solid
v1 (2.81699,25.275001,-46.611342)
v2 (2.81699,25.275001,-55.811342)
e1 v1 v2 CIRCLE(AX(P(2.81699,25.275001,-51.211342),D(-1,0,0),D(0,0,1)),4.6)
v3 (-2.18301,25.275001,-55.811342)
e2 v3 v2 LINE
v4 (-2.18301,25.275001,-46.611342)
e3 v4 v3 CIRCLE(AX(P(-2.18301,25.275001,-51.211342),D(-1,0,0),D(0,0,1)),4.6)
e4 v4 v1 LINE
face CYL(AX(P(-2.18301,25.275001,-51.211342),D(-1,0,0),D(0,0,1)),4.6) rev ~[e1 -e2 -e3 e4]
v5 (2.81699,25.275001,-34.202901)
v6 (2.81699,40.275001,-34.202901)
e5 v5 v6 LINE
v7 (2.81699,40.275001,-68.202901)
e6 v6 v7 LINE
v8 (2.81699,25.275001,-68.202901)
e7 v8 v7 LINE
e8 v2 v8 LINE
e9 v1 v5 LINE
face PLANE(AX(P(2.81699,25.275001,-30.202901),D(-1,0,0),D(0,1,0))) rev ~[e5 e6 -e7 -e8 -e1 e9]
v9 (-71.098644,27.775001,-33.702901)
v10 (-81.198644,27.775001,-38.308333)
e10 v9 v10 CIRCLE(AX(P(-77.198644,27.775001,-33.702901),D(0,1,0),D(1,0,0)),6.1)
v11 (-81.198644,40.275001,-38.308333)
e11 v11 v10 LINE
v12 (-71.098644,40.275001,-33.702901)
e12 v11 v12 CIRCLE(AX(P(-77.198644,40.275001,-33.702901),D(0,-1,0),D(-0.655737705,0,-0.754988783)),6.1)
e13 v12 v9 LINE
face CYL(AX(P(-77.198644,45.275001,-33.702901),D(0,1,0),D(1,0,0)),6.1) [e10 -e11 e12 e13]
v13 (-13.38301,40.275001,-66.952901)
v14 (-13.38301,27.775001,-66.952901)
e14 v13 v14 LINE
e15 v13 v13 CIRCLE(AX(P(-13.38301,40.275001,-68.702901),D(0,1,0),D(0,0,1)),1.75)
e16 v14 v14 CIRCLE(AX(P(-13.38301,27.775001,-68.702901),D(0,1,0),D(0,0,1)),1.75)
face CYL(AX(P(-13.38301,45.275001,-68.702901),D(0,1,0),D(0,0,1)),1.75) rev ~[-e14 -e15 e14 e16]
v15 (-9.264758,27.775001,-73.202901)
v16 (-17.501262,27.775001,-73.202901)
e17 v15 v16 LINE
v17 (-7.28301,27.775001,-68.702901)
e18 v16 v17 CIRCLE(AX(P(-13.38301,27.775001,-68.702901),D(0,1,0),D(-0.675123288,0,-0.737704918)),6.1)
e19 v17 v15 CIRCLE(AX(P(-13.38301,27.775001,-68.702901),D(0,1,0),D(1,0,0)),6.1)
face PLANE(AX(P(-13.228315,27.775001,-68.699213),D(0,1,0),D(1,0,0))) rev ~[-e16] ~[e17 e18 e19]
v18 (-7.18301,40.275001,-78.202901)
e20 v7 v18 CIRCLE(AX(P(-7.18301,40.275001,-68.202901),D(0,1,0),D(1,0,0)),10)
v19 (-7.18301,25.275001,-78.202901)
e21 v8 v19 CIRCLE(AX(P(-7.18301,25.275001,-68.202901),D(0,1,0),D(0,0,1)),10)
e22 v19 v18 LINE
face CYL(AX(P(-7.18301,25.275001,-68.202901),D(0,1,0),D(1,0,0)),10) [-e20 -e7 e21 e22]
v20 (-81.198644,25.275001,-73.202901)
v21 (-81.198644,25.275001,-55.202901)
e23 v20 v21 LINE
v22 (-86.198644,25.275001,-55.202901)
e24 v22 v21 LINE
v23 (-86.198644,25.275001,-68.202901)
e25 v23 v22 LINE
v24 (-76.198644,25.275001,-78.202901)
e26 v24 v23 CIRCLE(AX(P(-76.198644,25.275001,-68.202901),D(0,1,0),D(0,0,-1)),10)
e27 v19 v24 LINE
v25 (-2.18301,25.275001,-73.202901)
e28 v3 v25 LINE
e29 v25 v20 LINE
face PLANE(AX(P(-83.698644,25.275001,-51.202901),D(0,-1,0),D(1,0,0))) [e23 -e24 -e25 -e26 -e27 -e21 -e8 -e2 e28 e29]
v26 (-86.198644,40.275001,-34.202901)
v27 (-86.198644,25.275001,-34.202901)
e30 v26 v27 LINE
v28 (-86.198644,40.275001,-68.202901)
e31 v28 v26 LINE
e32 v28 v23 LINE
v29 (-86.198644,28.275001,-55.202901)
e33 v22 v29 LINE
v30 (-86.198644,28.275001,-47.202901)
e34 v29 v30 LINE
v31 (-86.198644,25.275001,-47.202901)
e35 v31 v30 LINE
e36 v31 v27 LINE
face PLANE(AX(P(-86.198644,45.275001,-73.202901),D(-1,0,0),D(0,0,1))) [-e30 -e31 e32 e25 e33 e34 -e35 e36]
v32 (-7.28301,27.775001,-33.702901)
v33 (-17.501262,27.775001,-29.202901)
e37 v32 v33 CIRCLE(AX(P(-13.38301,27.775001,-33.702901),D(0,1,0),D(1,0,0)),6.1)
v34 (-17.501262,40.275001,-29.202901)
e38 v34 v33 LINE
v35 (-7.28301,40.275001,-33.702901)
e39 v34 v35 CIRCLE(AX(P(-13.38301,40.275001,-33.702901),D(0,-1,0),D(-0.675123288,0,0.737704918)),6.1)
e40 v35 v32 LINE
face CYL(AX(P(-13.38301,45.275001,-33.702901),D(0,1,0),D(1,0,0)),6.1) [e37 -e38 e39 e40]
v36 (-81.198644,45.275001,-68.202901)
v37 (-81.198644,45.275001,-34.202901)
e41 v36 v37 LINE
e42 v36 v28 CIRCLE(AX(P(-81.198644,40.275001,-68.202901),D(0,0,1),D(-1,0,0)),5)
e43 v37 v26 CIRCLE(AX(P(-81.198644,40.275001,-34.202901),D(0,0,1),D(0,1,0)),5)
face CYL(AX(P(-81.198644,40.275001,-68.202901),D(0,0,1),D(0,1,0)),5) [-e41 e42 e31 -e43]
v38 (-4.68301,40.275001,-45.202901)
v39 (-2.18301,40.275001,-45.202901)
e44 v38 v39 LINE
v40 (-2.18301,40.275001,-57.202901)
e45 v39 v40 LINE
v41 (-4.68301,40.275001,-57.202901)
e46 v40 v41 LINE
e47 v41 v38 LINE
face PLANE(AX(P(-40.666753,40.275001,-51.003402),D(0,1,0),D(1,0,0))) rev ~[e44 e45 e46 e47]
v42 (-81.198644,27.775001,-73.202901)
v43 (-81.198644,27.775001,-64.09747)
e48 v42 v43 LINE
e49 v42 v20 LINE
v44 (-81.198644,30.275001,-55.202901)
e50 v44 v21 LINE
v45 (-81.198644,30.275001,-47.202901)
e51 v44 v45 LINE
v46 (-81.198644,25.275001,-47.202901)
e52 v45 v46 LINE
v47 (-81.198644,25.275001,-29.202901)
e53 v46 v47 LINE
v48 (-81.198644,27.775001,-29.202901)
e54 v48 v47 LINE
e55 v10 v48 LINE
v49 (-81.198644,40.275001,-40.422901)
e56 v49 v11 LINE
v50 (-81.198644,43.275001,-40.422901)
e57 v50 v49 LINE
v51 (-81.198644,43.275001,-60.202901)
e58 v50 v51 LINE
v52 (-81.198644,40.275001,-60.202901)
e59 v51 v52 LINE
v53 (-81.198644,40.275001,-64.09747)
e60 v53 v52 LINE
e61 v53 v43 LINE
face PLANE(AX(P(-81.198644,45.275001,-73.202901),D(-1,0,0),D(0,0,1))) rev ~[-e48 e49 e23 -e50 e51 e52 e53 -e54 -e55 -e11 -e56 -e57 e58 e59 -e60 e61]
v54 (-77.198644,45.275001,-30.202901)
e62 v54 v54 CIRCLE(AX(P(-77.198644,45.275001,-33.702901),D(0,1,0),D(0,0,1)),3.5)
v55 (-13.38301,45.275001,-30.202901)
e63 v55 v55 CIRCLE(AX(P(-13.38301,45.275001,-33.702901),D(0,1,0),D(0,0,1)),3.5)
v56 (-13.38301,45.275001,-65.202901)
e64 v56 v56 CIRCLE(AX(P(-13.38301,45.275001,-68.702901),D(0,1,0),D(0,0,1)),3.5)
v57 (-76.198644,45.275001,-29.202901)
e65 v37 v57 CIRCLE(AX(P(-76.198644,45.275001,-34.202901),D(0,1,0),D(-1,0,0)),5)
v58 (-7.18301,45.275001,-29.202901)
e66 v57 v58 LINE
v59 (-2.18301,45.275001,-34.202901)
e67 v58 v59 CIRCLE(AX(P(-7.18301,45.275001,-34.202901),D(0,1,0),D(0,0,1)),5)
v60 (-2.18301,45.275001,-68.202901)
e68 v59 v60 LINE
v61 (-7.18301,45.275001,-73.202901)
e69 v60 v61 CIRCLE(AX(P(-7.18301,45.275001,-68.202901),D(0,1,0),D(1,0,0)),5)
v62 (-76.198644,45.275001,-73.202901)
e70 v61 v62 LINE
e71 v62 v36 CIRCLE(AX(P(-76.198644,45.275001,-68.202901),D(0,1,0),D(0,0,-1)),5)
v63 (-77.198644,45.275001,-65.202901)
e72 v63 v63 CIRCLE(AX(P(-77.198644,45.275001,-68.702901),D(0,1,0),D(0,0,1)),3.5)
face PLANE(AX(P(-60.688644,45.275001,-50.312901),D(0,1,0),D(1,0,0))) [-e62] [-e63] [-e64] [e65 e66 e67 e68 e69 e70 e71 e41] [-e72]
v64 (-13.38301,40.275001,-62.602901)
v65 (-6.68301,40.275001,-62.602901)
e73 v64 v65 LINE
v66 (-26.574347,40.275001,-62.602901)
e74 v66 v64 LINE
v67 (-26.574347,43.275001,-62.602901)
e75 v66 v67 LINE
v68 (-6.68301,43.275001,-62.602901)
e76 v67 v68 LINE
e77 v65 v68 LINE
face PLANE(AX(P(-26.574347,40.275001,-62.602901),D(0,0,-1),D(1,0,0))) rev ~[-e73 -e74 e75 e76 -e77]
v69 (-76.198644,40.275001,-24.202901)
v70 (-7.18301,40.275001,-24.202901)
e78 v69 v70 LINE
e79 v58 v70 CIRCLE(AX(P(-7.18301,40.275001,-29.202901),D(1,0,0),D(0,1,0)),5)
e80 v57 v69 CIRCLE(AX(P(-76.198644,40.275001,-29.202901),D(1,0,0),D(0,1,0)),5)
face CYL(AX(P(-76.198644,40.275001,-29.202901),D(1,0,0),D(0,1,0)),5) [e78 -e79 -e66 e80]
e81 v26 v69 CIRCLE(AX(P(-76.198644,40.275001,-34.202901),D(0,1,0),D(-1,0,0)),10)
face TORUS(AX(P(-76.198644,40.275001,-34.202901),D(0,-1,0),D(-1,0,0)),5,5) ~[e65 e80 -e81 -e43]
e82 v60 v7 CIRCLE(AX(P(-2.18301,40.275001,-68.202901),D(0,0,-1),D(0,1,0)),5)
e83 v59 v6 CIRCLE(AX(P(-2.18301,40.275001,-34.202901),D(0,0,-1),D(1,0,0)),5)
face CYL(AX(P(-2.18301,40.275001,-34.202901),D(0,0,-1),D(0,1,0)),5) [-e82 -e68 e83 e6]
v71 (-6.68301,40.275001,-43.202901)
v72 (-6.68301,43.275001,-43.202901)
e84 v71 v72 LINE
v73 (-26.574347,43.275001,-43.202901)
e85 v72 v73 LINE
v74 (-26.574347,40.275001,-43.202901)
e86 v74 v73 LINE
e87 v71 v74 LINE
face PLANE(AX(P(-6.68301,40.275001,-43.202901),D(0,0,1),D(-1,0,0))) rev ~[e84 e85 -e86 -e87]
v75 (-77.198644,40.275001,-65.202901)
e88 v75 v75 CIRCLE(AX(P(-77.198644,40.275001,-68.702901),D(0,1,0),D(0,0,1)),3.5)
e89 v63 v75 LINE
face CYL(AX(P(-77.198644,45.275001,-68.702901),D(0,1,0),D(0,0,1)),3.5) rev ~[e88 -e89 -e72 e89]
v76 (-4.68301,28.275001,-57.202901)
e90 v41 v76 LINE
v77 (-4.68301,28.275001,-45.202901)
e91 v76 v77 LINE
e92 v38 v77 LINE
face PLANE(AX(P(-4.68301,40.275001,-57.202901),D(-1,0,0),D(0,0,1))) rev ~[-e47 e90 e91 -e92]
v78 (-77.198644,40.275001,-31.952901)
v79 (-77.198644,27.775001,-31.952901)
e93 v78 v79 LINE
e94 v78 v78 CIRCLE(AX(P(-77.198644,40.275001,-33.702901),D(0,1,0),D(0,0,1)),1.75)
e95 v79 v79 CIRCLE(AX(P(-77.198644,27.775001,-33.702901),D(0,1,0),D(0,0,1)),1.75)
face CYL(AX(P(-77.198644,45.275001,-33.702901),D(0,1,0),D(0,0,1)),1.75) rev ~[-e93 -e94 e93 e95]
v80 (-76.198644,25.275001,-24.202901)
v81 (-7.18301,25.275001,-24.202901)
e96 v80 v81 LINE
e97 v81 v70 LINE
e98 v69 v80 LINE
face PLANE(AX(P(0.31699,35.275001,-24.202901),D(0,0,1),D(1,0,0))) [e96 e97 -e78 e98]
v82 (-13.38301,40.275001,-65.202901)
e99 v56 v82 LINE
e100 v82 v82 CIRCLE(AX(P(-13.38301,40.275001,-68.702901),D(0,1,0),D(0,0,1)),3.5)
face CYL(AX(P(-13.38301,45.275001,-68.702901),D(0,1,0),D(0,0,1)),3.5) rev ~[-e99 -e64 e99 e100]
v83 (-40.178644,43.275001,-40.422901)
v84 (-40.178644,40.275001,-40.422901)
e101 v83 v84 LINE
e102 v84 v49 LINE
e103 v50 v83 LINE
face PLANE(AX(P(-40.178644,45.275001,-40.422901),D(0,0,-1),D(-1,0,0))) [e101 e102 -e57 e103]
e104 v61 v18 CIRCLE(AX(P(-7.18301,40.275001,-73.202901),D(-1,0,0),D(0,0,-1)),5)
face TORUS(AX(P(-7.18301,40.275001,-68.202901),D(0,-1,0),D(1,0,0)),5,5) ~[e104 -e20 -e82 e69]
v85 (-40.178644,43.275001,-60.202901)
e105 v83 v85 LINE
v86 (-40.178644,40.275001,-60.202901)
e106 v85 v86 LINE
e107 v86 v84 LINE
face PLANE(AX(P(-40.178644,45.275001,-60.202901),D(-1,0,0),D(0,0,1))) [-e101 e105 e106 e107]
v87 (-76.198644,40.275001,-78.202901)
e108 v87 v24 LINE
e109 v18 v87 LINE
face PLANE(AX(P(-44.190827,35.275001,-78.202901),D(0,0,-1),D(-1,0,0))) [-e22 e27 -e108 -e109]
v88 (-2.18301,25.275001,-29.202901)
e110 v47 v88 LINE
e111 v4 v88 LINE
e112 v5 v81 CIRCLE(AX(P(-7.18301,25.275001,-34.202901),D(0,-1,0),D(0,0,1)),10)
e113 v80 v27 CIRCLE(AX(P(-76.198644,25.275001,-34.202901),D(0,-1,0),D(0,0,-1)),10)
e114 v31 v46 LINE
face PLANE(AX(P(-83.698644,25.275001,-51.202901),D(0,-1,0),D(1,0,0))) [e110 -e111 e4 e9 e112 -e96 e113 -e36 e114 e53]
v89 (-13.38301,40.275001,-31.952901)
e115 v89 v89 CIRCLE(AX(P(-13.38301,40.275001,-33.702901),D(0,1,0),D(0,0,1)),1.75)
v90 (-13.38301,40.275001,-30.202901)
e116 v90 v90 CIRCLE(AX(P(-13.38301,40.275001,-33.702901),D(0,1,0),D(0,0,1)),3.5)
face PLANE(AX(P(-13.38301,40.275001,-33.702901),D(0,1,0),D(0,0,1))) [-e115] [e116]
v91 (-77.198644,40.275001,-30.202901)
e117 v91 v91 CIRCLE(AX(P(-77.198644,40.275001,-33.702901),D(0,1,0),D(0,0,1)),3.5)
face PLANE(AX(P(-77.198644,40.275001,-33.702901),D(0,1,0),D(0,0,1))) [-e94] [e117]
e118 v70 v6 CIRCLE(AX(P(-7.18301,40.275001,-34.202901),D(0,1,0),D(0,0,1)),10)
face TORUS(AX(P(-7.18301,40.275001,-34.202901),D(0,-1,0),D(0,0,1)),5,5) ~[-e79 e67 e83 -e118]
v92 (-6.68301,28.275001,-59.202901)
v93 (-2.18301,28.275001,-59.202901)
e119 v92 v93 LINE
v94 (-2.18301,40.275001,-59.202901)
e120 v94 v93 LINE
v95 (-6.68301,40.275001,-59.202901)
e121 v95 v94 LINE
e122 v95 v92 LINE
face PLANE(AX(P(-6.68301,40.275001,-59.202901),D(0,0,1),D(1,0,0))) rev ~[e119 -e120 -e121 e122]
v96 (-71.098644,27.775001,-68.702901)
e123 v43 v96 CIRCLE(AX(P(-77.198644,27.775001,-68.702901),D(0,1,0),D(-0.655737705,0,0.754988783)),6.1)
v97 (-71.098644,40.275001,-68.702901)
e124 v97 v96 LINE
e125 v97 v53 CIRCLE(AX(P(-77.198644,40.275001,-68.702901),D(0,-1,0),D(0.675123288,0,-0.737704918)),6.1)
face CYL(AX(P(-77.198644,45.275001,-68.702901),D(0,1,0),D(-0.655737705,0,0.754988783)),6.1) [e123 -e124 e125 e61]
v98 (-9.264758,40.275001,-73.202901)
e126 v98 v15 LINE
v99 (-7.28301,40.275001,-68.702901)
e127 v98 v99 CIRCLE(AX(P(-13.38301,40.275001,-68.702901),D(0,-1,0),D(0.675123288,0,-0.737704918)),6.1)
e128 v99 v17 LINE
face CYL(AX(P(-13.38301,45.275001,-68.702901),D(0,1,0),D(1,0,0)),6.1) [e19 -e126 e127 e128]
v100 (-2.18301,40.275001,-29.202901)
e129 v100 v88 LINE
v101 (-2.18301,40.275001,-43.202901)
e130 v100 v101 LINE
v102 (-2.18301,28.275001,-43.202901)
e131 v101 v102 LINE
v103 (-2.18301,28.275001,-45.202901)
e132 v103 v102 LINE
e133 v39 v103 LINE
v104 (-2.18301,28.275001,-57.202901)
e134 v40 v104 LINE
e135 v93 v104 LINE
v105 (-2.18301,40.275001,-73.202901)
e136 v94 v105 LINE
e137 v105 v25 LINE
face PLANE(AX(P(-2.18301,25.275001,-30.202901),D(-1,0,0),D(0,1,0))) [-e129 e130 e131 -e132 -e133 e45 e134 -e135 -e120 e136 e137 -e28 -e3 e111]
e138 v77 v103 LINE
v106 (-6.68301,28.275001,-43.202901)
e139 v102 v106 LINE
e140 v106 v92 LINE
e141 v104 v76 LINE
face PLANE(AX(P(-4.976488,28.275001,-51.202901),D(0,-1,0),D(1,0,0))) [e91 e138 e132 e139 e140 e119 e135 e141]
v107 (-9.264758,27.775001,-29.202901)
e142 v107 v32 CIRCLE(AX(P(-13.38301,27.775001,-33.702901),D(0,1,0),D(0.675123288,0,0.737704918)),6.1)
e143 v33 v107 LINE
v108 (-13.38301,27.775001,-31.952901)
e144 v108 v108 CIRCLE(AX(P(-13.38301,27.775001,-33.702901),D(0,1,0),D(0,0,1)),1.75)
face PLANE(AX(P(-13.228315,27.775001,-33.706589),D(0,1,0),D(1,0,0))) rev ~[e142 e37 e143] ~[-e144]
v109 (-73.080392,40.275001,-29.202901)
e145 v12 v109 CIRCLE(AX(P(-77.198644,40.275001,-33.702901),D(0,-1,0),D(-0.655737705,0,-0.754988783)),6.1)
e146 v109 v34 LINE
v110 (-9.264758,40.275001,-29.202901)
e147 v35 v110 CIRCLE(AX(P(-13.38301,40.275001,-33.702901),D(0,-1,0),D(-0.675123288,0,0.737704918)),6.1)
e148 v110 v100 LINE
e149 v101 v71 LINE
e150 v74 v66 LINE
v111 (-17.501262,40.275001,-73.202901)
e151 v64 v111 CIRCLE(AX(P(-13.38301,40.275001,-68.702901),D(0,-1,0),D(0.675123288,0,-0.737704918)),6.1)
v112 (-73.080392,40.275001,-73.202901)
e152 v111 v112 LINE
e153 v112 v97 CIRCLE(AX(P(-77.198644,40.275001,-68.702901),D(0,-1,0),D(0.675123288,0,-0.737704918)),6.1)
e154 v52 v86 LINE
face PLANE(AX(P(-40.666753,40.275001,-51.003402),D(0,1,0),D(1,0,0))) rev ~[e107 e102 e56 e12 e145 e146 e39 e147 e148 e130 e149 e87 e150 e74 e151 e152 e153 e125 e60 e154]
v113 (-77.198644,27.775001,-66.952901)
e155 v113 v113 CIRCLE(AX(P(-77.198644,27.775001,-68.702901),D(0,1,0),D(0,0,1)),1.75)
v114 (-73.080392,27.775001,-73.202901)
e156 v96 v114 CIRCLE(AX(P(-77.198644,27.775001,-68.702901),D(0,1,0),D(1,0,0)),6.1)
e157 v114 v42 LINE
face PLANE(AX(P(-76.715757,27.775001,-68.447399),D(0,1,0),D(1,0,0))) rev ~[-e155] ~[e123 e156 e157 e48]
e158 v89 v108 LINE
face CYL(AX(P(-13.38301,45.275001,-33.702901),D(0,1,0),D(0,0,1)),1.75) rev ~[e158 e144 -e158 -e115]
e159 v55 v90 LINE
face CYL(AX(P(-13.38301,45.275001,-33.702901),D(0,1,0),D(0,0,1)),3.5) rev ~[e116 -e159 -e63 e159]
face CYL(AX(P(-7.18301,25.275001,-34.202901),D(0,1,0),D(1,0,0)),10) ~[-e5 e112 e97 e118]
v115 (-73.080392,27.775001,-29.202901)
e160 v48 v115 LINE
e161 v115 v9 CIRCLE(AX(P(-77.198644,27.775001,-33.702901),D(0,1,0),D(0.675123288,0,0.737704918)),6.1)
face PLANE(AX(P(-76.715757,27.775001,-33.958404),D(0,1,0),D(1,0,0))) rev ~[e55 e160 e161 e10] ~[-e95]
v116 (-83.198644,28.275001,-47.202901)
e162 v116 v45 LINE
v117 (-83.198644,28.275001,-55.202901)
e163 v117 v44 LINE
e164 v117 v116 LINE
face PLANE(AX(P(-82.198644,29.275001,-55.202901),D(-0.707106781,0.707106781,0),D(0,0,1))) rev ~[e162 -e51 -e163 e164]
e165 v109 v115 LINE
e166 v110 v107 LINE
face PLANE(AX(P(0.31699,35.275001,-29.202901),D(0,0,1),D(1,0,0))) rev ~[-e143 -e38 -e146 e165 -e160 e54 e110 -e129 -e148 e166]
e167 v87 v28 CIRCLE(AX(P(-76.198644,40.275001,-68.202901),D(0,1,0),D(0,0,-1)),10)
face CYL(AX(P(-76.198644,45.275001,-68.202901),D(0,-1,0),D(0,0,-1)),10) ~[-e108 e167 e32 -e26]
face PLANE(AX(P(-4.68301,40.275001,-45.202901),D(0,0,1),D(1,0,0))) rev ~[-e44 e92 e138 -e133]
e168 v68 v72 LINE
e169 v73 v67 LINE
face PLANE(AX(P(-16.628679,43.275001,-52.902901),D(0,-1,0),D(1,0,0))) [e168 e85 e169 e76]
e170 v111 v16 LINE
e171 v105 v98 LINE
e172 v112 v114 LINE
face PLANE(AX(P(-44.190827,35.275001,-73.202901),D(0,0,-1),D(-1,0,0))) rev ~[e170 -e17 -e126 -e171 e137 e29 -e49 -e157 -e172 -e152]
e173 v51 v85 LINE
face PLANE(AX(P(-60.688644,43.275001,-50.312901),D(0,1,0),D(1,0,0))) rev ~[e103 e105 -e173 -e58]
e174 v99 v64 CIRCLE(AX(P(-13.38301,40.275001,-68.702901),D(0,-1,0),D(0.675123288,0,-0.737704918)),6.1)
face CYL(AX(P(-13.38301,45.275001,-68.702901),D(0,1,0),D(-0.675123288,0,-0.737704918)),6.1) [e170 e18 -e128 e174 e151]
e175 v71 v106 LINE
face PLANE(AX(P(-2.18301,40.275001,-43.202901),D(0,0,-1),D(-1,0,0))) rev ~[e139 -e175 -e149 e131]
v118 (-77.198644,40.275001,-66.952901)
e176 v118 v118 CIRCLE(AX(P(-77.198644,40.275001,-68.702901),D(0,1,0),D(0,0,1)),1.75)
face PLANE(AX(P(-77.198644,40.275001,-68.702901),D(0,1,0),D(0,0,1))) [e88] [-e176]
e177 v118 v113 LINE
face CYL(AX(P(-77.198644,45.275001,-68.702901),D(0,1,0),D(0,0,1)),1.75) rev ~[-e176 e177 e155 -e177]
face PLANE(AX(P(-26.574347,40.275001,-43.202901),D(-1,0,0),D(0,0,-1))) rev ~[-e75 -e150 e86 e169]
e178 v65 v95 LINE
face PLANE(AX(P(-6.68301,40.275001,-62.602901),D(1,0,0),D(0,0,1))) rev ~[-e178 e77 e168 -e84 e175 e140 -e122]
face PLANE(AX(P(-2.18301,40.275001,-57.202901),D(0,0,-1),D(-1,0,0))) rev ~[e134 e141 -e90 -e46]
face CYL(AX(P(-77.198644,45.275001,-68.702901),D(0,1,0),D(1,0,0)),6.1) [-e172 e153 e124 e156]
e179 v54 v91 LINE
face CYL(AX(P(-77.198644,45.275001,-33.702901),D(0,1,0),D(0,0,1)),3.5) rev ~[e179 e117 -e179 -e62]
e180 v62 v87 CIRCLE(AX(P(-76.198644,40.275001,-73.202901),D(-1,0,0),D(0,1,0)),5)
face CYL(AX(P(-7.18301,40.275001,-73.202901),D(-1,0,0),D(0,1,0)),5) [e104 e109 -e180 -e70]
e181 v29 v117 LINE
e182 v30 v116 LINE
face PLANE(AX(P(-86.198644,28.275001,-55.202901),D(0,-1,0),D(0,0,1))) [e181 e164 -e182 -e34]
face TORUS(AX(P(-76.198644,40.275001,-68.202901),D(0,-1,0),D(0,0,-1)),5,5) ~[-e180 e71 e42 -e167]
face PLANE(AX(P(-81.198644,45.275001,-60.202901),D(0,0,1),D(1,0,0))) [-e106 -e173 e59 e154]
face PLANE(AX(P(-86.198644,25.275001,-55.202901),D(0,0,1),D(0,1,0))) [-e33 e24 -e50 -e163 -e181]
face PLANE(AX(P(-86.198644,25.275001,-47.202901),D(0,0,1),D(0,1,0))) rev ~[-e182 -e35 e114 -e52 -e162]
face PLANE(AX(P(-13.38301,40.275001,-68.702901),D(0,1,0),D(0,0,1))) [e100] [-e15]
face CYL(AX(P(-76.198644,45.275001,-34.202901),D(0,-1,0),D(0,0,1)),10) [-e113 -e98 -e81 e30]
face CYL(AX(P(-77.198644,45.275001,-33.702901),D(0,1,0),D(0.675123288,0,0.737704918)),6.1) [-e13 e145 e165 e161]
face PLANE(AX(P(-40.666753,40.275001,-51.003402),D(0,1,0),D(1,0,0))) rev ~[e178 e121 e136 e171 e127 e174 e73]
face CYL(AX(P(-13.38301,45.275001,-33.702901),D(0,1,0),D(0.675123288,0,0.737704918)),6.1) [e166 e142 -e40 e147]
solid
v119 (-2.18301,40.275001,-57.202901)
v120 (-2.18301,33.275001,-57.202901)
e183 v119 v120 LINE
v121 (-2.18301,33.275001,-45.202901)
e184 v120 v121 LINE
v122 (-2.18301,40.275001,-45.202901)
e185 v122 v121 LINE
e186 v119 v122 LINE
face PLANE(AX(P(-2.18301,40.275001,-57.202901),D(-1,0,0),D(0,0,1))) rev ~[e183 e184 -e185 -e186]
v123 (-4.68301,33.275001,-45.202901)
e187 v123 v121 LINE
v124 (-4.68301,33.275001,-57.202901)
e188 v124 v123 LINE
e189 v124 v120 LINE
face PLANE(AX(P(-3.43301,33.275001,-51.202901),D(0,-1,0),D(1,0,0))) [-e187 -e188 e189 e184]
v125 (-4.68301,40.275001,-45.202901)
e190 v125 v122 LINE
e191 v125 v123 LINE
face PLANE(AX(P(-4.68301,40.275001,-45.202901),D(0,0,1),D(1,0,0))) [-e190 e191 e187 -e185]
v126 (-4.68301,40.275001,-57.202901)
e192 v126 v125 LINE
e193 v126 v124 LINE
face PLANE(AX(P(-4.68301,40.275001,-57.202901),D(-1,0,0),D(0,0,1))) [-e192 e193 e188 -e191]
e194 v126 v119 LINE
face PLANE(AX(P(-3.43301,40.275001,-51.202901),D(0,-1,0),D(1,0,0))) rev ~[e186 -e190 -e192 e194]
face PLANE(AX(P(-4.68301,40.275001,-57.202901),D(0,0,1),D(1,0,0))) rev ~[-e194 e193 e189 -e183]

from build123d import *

# Parameters (mm, degrees)
BOSS_EXTRUDE1_DEPTH  = 5
SKETCH3_W            = 89.015633911
SKETCH3_H            = 54
SKETCH3_R            = 1.75
BOSS_EXTRUDE2_DEPTH  = 10
SKETCH4_W            = 5
SKETCH4_H            = 20
SKETCH4_W_2          = 84.015633911
BOSS_EXTRUDE3_DEPTH  = 5
SKETCH5_W            = 84.015633911
SKETCH5_H            = 20
SKETCH5_W_2          = 5
BOSS_EXTRUDE4_DEPTH  = 5
SKETCH6_W            = 5
SKETCH6_H            = 20
BOSS_EXTRUDE5_DEPTH  = 5
SKETCH7_W            = 5
SKETCH7_H            = 20
BOSS_EXTRUDE6_DEPTH  = 5
SKETCH8_W            = 5
SKETCH8_H            = 44
BOSS_EXTRUDE7_DEPTH  = 20
SKETCH11_W           = 89.015633911
SKETCH11_H           = 54
CUT_EXTRUDE2_DEPTH   = 10
SKETCH12_R           = 1.75
BOSS_EXTRUDE8_DEPTH  = 17.5
SKETCH15_W           = 8
SKETCH15_H           = 3
CUT_EXTRUDE4_DEPTH   = 10
BOSS_EXTRUDE9_DEPTH  = 5
SKETCH18_W           = 41.02
SKETCH18_H           = 19.78
BOSS_EXTRUDE10_DEPTH = 2
SKETCH19_R           = 3.5
SKETCH19_R_2         = 1.75
CUT_EXTRUDE5_DEPTH   = 5
FILLET1_R            = 10
FILLET2_R            = 5
BOSS_EXTRUDE11_DEPTH = 12
SKETCH21_W           = 2.5
SKETCH21_H           = 12
BOSS_EXTRUDE12_DEPTH = 7
CUT_EXTRUDE6_DEPTH   = 3
CHAMFER1_SIZE        = 2


with BuildPart() as part:
    # Sketch1 → Boss-Extrude1 (new body)
    with BuildSketch(Plane(origin=(-2.183009885, 0, 0), x_dir=(0, 0, -1), z_dir=(1, 0, 0))):
        with BuildLine():
            Line((30.202901291, 42.056855501), (30.202901291, 27.775000784))
            Line((30.202901291, 27.775000784), (30.202901291, 26.275000784))
            Line((30.202901291, 26.275000784), (30.202901291, 25.275000784))
            Line((30.202901291, 25.275000784), (46.611342077, 25.275000784))
            ThreePointArc((46.611342077, 25.275000784), (51.211342077, 29.875000784), (55.811342077, 25.275000784))
            Line((55.811342077, 25.275000784), (72.202901291, 25.275000784))
            Line((72.202901291, 25.275000784), (72.202901291, 26.275000784))
            Line((72.202901291, 26.275000784), (72.202901291, 27.775000784))
            Line((72.202901291, 27.775000784), (72.202901291, 43.275000784))
            Line((72.202901291, 43.275000784), (72.202901291, 45.275000784))
            Line((72.202901291, 45.275000784), (30.202901291, 45.275000784))
            Line((30.202901291, 45.275000784), (30.202901291, 42.056855501))
        make_face()
    extrude(amount=BOSS_EXTRUDE1_DEPTH)

    # Sketch3 → Boss-Extrude2 (add)
    with BuildSketch(Plane(origin=(0, 45.275000784, 0), x_dir=(1, 0, 0), z_dir=(0, 1, 0))):
        with Locations((-41.690826841, 51.202901291)):
            Rectangle(SKETCH3_W, SKETCH3_H)
        with Locations(Location((-77.198643796, 33.702901291, 0), (0, 0, 270))):
            Circle(SKETCH3_R, mode=Mode.SUBTRACT)
        with Locations(Location((-13.383009885, 33.702901291, 0), (0, 0, 270))):
            Circle(SKETCH3_R, mode=Mode.SUBTRACT)
        with Locations(Location((-77.198643796, 68.702901291, 0), (0, 0, 270))):
            Circle(SKETCH3_R, mode=Mode.SUBTRACT)
        with Locations(Location((-13.383009885, 68.702901291, 0), (0, 0, 270))):
            Circle(SKETCH3_R, mode=Mode.SUBTRACT)
    extrude(amount=BOSS_EXTRUDE2_DEPTH)

    # Sketch4 → Boss-Extrude3 (add)
    with BuildSketch(Plane.XY.offset(-24.202901291)):
        with Locations((0.316990115, 35.275000784)):
            Rectangle(SKETCH4_W, SKETCH4_H)
        with Locations((-44.190826841, 35.275000784)):
            Rectangle(SKETCH4_W_2, SKETCH4_H)
    extrude(amount=-BOSS_EXTRUDE3_DEPTH)

    # Sketch5 → Boss-Extrude4 (add)
    with BuildSketch(Plane(origin=(0, 0, -78.202901291), x_dir=(-1, 0, 0), z_dir=(0, 0, -1))):
        with Locations((44.190826841, 35.275000784)):
            Rectangle(SKETCH5_W, SKETCH5_H)
        with Locations((-0.316990115, 35.275000784)):
            Rectangle(SKETCH5_W_2, SKETCH5_H)
    extrude(amount=-BOSS_EXTRUDE4_DEPTH)

    # Sketch6 → Boss-Extrude5 (add)
    with BuildSketch(Plane(origin=(0, 0, -72.202901291), x_dir=(-1, 0, 0), z_dir=(0, 0, -1))):
        with Locations((-0.316990115, 35.275000784)):
            Rectangle(SKETCH6_W, SKETCH6_H)
    extrude(amount=BOSS_EXTRUDE5_DEPTH)

    # Sketch7 → Boss-Extrude6 (add)
    with BuildSketch(Plane.XY.offset(-30.202901291)):
        with Locations((0.316990115, 35.275000784)):
            Rectangle(SKETCH7_W, SKETCH7_H)
    extrude(amount=BOSS_EXTRUDE6_DEPTH)

    # Sketch8 → Boss-Extrude7 (add)
    with BuildSketch(Plane.XZ.offset(-45.275000784)):
        with Locations((-83.698643796, -51.202901291)):
            Rectangle(SKETCH8_W, SKETCH8_H)
    extrude(amount=BOSS_EXTRUDE7_DEPTH)

    # Sketch11 → Cut-Extrude2 (cut)
    with BuildSketch(Plane(origin=(0, 55.275000784, 0), x_dir=(1, 0, 0), z_dir=(0, 1, 0))):
        with Locations((-41.690826841, 51.202901291)):
            Rectangle(SKETCH11_W, SKETCH11_H)
    extrude(amount=-CUT_EXTRUDE2_DEPTH, mode=Mode.SUBTRACT)

    # Sketch12 → Boss-Extrude8 (add)
    # profile 1 of 4: a face of its own
    with BuildSketch(Plane(origin=(0, 45.275000784, 0), x_dir=(1, 0, 0), z_dir=(0, 1, 0))):
        with BuildLine():
            ThreePointArc((-71.098643796, 33.702901291), (-74.667833649, 39.253126511), (-81.198643796, 38.308332867))
            Line((-81.198643796, 38.308332867), (-81.198643796, 29.202901291))
            Line((-81.198643796, 29.202901291), (-73.08039174, 29.202901291))
            ThreePointArc((-73.08039174, 29.202901291), (-71.616021762, 31.244379127), (-71.098643796, 33.702901291))
        make_face()
        with Locations(Location((-77.198643796, 33.702901291, 0), (0, 0, 270))):
            Circle(SKETCH12_R, mode=Mode.SUBTRACT)
    # profile 2 of 4: a face of its own
    with BuildSketch(Plane(origin=(0, 45.275000784, 0), x_dir=(1, 0, 0), z_dir=(0, 1, 0))):
        with BuildLine():
            ThreePointArc((-71.098643796, 68.702901291), (-71.616021762, 71.161423454), (-73.08039174, 73.202901291))
            Line((-73.08039174, 73.202901291), (-81.198643796, 73.202901291))
            Line((-81.198643796, 73.202901291), (-81.198643796, 64.097469715))
            ThreePointArc((-81.198643796, 64.097469715), (-74.667833649, 63.15267607), (-71.098643796, 68.702901291))
        make_face()
        with Locations(Location((-77.198643796, 68.702901291, 0), (0, 0, 270))):
            Circle(SKETCH12_R, mode=Mode.SUBTRACT)
    # profile 3 of 4: a face of its own
    with BuildSketch(Plane(origin=(0, 45.275000784, 0), x_dir=(1, 0, 0), z_dir=(0, 1, 0))):
        with BuildLine():
            ThreePointArc((-7.283009885, 33.702901291), (-15.841532049, 39.285523325), (-17.501261942, 29.202901291))
            Line((-17.501261942, 29.202901291), (-9.264757829, 29.202901291))
            ThreePointArc((-9.264757829, 29.202901291), (-7.800387851, 31.244379127), (-7.283009885, 33.702901291))
        make_face()
        with Locations(Location((-13.383009885, 33.702901291, 0), (0, 0, 270))):
            Circle(SKETCH12_R, mode=Mode.SUBTRACT)
    # profile 4 of 4: a face of its own
    with BuildSketch(Plane(origin=(0, 45.275000784, 0), x_dir=(1, 0, 0), z_dir=(0, 1, 0))):
        with BuildLine():
            ThreePointArc((-17.501261942, 73.202901291), (-15.841532049, 63.120279257), (-7.283009885, 68.702901291))
            ThreePointArc((-7.283009885, 68.702901291), (-7.800387851, 71.161423454), (-9.264757829, 73.202901291))
            Line((-9.264757829, 73.202901291), (-17.501261942, 73.202901291))
        make_face()
        with Locations(Location((-13.383009885, 68.702901291, 0), (0, 0, 270))):
            Circle(SKETCH12_R, mode=Mode.SUBTRACT)
    extrude(amount=-BOSS_EXTRUDE8_DEPTH)

    # Sketch15 → Cut-Extrude4 (cut)
    with BuildSketch(Plane.ZY.offset(86.198643796)):
        with Locations((-51.202901291, 26.775000784)):
            Rectangle(SKETCH15_W, SKETCH15_H)
    extrude(amount=-CUT_EXTRUDE4_DEPTH, mode=Mode.SUBTRACT)

    # Sketch17 → Boss-Extrude9 (add)
    with BuildSketch(Plane(origin=(0, 45.275000784, 0), x_dir=(1, 0, 0), z_dir=(0, 1, 0))):
        with BuildLine():
            Line((-40.178643796, 40.422901291), (-74.198643796, 40.422901291))
            Line((-74.198643796, 40.422901291), (-81.198643796, 40.422901291))
            Line((-81.198643796, 40.422901291), (-81.198643796, 38.308332867))
            ThreePointArc((-81.198643796, 38.308332867), (-72.64554409, 37.762369614), (-73.08039174, 29.202901291))
            Line((-73.08039174, 29.202901291), (-17.501261942, 29.202901291))
            ThreePointArc((-17.501261942, 29.202901291), (-13.383009885, 39.802901291), (-9.264757829, 29.202901291))
            Line((-9.264757829, 29.202901291), (-2.183009885, 29.202901291))
            Line((-2.183009885, 29.202901291), (-2.183009885, 73.202901291))
            Line((-2.183009885, 73.202901291), (-9.264757829, 73.202901291))
            ThreePointArc((-9.264757829, 73.202901291), (-13.383009885, 62.602901291), (-17.501261942, 73.202901291))
            Line((-17.501261942, 73.202901291), (-73.08039174, 73.202901291))
            ThreePointArc((-73.08039174, 73.202901291), (-72.64554409, 64.643432968), (-81.198643796, 64.097469715))
            Line((-81.198643796, 64.097469715), (-81.198643796, 60.202901291))
            Line((-81.198643796, 60.202901291), (-74.198643796, 60.202901291))
            Line((-74.198643796, 60.202901291), (-40.178643796, 60.202901291))
            Line((-40.178643796, 60.202901291), (-40.178643796, 40.422901291))
        make_face()
    extrude(amount=-BOSS_EXTRUDE9_DEPTH)

    # Sketch18 → Boss-Extrude10 (add)
    with BuildSketch(Plane(origin=(0, 45.275000784, 0), x_dir=(1, 0, 0), z_dir=(0, 1, 0))):
        with Locations((-60.688643796, 50.312901291)):
            Rectangle(SKETCH18_W, SKETCH18_H)
    extrude(amount=-BOSS_EXTRUDE10_DEPTH)

    # Sketch19 → Cut-Extrude5 (cut)
    # profile 1 of 4: a face of its own
    with BuildSketch(Plane(origin=(0, 45.275000784, 0), x_dir=(1, 0, 0), z_dir=(0, 1, 0))):
        with Locations(Location((-77.198643796, 68.702901291, 0), (0, 0, 270))):
            Circle(SKETCH19_R)
        with Locations(Location((-77.198643796, 68.702901291, 0), (0, 0, 270))):
            Circle(SKETCH19_R_2, mode=Mode.SUBTRACT)
    # profile 2 of 4: a face of its own
    with BuildSketch(Plane(origin=(0, 45.275000784, 0), x_dir=(1, 0, 0), z_dir=(0, 1, 0))):
        with Locations(Location((-77.198643796, 33.702901291, 0), (0, 0, 270))):
            Circle(SKETCH19_R)
        with Locations(Location((-77.198643796, 33.702901291, 0), (0, 0, 270))):
            Circle(SKETCH19_R_2, mode=Mode.SUBTRACT)
    # profile 3 of 4: a face of its own
    with BuildSketch(Plane(origin=(0, 45.275000784, 0), x_dir=(1, 0, 0), z_dir=(0, 1, 0))):
        with Locations(Location((-13.383009885, 68.702901291, 0), (0, 0, 270))):
            Circle(SKETCH19_R)
        with Locations(Location((-13.383009885, 68.702901291, 0), (0, 0, 270))):
            Circle(SKETCH19_R_2, mode=Mode.SUBTRACT)
    # profile 4 of 4: a face of its own
    with BuildSketch(Plane(origin=(0, 45.275000784, 0), x_dir=(1, 0, 0), z_dir=(0, 1, 0))):
        with Locations(Location((-13.383009885, 33.702901291, 0), (0, 0, 270))):
            Circle(SKETCH19_R)
        with Locations(Location((-13.383009885, 33.702901291, 0), (0, 0, 270))):
            Circle(SKETCH19_R_2, mode=Mode.SUBTRACT)
    extrude(amount=-CUT_EXTRUDE5_DEPTH, mode=Mode.SUBTRACT)

    # Fillet1
    fillet1_edges = [part.edges().sort_by_distance(p)[0] for p in [
        (-86.198643796, 35.275000784, -78.202901291),
        (-86.198643796, 35.275000784, -24.202901291),
        (2.816990115, 35.275000784, -78.202901291),
        (2.816990115, 35.275000784, -24.202901291),
    ]]
    fillet(fillet1_edges, radius=FILLET1_R)

    # Fillet2
    fillet2_edges = [part.edges().sort_by_distance(p)[0] for p in [
        (-41.690826841, 45.275000784, -24.202901291),
        (-86.198643796, 45.275000784, -51.202901291),
        (2.816990115, 45.275000784, -51.202901291),
        (-41.690826841, 45.275000784, -78.202901291),
        (-83.269711608, 45.275000784, -75.273969103),
        (-0.111942073, 45.275000784, -75.273969103),
        (-0.111942073, 45.275000784, -27.131833479),
        (-83.269711608, 45.275000784, -27.131833479),
    ]]
    fillet(fillet2_edges, radius=FILLET2_R)

    # Sketch20 → Boss-Extrude11 (add)
    with BuildSketch(Plane.XZ.offset(-40.275000784)):
        Polygon((-4.683009885, -45.202901291), (-2.183009885, -45.202901291), (-2.183009885, -43.202901291), (-6.683009885, -43.202901291), (-6.683009885, -59.202901291), (-2.183009885, -59.202901291), (-2.183009885, -57.202901291), (-4.683009885, -57.202901291), align=None)
    extrude(amount=BOSS_EXTRUDE11_DEPTH)

    # Sketch22 → Cut-Extrude6 (cut)
    with BuildSketch(Plane.XZ.offset(-40.275000784)):
        Polygon((-13.383009885, -62.602901291), (-6.683009885, -62.602901291), (-6.683009885, -59.202901291), (-6.683009885, -43.202901291), (-26.574347223, -43.202901291), (-26.574347223, -62.602901291), align=None)
    extrude(amount=-CUT_EXTRUDE6_DEPTH, mode=Mode.SUBTRACT)

    # Chamfer1
    chamfer1_edges = [part.edges().sort_by_distance(p)[0] for p in [
        (-81.198643796, 28.275000784, -51.202901291),
    ]]
    chamfer(chamfer1_edges, length=CHAMFER1_SIZE)


with BuildPart() as body_2:
    # Sketch21 → Boss-Extrude12 (new body)
    with BuildSketch(Plane.XZ.offset(-40.275000784)):
        with Locations((-3.433009885, -51.202901291)):
            Rectangle(SKETCH21_W, SKETCH21_H)
    extrude(amount=BOSS_EXTRUDE12_DEPTH)


solid = Compound([part.part, body_2.part])
